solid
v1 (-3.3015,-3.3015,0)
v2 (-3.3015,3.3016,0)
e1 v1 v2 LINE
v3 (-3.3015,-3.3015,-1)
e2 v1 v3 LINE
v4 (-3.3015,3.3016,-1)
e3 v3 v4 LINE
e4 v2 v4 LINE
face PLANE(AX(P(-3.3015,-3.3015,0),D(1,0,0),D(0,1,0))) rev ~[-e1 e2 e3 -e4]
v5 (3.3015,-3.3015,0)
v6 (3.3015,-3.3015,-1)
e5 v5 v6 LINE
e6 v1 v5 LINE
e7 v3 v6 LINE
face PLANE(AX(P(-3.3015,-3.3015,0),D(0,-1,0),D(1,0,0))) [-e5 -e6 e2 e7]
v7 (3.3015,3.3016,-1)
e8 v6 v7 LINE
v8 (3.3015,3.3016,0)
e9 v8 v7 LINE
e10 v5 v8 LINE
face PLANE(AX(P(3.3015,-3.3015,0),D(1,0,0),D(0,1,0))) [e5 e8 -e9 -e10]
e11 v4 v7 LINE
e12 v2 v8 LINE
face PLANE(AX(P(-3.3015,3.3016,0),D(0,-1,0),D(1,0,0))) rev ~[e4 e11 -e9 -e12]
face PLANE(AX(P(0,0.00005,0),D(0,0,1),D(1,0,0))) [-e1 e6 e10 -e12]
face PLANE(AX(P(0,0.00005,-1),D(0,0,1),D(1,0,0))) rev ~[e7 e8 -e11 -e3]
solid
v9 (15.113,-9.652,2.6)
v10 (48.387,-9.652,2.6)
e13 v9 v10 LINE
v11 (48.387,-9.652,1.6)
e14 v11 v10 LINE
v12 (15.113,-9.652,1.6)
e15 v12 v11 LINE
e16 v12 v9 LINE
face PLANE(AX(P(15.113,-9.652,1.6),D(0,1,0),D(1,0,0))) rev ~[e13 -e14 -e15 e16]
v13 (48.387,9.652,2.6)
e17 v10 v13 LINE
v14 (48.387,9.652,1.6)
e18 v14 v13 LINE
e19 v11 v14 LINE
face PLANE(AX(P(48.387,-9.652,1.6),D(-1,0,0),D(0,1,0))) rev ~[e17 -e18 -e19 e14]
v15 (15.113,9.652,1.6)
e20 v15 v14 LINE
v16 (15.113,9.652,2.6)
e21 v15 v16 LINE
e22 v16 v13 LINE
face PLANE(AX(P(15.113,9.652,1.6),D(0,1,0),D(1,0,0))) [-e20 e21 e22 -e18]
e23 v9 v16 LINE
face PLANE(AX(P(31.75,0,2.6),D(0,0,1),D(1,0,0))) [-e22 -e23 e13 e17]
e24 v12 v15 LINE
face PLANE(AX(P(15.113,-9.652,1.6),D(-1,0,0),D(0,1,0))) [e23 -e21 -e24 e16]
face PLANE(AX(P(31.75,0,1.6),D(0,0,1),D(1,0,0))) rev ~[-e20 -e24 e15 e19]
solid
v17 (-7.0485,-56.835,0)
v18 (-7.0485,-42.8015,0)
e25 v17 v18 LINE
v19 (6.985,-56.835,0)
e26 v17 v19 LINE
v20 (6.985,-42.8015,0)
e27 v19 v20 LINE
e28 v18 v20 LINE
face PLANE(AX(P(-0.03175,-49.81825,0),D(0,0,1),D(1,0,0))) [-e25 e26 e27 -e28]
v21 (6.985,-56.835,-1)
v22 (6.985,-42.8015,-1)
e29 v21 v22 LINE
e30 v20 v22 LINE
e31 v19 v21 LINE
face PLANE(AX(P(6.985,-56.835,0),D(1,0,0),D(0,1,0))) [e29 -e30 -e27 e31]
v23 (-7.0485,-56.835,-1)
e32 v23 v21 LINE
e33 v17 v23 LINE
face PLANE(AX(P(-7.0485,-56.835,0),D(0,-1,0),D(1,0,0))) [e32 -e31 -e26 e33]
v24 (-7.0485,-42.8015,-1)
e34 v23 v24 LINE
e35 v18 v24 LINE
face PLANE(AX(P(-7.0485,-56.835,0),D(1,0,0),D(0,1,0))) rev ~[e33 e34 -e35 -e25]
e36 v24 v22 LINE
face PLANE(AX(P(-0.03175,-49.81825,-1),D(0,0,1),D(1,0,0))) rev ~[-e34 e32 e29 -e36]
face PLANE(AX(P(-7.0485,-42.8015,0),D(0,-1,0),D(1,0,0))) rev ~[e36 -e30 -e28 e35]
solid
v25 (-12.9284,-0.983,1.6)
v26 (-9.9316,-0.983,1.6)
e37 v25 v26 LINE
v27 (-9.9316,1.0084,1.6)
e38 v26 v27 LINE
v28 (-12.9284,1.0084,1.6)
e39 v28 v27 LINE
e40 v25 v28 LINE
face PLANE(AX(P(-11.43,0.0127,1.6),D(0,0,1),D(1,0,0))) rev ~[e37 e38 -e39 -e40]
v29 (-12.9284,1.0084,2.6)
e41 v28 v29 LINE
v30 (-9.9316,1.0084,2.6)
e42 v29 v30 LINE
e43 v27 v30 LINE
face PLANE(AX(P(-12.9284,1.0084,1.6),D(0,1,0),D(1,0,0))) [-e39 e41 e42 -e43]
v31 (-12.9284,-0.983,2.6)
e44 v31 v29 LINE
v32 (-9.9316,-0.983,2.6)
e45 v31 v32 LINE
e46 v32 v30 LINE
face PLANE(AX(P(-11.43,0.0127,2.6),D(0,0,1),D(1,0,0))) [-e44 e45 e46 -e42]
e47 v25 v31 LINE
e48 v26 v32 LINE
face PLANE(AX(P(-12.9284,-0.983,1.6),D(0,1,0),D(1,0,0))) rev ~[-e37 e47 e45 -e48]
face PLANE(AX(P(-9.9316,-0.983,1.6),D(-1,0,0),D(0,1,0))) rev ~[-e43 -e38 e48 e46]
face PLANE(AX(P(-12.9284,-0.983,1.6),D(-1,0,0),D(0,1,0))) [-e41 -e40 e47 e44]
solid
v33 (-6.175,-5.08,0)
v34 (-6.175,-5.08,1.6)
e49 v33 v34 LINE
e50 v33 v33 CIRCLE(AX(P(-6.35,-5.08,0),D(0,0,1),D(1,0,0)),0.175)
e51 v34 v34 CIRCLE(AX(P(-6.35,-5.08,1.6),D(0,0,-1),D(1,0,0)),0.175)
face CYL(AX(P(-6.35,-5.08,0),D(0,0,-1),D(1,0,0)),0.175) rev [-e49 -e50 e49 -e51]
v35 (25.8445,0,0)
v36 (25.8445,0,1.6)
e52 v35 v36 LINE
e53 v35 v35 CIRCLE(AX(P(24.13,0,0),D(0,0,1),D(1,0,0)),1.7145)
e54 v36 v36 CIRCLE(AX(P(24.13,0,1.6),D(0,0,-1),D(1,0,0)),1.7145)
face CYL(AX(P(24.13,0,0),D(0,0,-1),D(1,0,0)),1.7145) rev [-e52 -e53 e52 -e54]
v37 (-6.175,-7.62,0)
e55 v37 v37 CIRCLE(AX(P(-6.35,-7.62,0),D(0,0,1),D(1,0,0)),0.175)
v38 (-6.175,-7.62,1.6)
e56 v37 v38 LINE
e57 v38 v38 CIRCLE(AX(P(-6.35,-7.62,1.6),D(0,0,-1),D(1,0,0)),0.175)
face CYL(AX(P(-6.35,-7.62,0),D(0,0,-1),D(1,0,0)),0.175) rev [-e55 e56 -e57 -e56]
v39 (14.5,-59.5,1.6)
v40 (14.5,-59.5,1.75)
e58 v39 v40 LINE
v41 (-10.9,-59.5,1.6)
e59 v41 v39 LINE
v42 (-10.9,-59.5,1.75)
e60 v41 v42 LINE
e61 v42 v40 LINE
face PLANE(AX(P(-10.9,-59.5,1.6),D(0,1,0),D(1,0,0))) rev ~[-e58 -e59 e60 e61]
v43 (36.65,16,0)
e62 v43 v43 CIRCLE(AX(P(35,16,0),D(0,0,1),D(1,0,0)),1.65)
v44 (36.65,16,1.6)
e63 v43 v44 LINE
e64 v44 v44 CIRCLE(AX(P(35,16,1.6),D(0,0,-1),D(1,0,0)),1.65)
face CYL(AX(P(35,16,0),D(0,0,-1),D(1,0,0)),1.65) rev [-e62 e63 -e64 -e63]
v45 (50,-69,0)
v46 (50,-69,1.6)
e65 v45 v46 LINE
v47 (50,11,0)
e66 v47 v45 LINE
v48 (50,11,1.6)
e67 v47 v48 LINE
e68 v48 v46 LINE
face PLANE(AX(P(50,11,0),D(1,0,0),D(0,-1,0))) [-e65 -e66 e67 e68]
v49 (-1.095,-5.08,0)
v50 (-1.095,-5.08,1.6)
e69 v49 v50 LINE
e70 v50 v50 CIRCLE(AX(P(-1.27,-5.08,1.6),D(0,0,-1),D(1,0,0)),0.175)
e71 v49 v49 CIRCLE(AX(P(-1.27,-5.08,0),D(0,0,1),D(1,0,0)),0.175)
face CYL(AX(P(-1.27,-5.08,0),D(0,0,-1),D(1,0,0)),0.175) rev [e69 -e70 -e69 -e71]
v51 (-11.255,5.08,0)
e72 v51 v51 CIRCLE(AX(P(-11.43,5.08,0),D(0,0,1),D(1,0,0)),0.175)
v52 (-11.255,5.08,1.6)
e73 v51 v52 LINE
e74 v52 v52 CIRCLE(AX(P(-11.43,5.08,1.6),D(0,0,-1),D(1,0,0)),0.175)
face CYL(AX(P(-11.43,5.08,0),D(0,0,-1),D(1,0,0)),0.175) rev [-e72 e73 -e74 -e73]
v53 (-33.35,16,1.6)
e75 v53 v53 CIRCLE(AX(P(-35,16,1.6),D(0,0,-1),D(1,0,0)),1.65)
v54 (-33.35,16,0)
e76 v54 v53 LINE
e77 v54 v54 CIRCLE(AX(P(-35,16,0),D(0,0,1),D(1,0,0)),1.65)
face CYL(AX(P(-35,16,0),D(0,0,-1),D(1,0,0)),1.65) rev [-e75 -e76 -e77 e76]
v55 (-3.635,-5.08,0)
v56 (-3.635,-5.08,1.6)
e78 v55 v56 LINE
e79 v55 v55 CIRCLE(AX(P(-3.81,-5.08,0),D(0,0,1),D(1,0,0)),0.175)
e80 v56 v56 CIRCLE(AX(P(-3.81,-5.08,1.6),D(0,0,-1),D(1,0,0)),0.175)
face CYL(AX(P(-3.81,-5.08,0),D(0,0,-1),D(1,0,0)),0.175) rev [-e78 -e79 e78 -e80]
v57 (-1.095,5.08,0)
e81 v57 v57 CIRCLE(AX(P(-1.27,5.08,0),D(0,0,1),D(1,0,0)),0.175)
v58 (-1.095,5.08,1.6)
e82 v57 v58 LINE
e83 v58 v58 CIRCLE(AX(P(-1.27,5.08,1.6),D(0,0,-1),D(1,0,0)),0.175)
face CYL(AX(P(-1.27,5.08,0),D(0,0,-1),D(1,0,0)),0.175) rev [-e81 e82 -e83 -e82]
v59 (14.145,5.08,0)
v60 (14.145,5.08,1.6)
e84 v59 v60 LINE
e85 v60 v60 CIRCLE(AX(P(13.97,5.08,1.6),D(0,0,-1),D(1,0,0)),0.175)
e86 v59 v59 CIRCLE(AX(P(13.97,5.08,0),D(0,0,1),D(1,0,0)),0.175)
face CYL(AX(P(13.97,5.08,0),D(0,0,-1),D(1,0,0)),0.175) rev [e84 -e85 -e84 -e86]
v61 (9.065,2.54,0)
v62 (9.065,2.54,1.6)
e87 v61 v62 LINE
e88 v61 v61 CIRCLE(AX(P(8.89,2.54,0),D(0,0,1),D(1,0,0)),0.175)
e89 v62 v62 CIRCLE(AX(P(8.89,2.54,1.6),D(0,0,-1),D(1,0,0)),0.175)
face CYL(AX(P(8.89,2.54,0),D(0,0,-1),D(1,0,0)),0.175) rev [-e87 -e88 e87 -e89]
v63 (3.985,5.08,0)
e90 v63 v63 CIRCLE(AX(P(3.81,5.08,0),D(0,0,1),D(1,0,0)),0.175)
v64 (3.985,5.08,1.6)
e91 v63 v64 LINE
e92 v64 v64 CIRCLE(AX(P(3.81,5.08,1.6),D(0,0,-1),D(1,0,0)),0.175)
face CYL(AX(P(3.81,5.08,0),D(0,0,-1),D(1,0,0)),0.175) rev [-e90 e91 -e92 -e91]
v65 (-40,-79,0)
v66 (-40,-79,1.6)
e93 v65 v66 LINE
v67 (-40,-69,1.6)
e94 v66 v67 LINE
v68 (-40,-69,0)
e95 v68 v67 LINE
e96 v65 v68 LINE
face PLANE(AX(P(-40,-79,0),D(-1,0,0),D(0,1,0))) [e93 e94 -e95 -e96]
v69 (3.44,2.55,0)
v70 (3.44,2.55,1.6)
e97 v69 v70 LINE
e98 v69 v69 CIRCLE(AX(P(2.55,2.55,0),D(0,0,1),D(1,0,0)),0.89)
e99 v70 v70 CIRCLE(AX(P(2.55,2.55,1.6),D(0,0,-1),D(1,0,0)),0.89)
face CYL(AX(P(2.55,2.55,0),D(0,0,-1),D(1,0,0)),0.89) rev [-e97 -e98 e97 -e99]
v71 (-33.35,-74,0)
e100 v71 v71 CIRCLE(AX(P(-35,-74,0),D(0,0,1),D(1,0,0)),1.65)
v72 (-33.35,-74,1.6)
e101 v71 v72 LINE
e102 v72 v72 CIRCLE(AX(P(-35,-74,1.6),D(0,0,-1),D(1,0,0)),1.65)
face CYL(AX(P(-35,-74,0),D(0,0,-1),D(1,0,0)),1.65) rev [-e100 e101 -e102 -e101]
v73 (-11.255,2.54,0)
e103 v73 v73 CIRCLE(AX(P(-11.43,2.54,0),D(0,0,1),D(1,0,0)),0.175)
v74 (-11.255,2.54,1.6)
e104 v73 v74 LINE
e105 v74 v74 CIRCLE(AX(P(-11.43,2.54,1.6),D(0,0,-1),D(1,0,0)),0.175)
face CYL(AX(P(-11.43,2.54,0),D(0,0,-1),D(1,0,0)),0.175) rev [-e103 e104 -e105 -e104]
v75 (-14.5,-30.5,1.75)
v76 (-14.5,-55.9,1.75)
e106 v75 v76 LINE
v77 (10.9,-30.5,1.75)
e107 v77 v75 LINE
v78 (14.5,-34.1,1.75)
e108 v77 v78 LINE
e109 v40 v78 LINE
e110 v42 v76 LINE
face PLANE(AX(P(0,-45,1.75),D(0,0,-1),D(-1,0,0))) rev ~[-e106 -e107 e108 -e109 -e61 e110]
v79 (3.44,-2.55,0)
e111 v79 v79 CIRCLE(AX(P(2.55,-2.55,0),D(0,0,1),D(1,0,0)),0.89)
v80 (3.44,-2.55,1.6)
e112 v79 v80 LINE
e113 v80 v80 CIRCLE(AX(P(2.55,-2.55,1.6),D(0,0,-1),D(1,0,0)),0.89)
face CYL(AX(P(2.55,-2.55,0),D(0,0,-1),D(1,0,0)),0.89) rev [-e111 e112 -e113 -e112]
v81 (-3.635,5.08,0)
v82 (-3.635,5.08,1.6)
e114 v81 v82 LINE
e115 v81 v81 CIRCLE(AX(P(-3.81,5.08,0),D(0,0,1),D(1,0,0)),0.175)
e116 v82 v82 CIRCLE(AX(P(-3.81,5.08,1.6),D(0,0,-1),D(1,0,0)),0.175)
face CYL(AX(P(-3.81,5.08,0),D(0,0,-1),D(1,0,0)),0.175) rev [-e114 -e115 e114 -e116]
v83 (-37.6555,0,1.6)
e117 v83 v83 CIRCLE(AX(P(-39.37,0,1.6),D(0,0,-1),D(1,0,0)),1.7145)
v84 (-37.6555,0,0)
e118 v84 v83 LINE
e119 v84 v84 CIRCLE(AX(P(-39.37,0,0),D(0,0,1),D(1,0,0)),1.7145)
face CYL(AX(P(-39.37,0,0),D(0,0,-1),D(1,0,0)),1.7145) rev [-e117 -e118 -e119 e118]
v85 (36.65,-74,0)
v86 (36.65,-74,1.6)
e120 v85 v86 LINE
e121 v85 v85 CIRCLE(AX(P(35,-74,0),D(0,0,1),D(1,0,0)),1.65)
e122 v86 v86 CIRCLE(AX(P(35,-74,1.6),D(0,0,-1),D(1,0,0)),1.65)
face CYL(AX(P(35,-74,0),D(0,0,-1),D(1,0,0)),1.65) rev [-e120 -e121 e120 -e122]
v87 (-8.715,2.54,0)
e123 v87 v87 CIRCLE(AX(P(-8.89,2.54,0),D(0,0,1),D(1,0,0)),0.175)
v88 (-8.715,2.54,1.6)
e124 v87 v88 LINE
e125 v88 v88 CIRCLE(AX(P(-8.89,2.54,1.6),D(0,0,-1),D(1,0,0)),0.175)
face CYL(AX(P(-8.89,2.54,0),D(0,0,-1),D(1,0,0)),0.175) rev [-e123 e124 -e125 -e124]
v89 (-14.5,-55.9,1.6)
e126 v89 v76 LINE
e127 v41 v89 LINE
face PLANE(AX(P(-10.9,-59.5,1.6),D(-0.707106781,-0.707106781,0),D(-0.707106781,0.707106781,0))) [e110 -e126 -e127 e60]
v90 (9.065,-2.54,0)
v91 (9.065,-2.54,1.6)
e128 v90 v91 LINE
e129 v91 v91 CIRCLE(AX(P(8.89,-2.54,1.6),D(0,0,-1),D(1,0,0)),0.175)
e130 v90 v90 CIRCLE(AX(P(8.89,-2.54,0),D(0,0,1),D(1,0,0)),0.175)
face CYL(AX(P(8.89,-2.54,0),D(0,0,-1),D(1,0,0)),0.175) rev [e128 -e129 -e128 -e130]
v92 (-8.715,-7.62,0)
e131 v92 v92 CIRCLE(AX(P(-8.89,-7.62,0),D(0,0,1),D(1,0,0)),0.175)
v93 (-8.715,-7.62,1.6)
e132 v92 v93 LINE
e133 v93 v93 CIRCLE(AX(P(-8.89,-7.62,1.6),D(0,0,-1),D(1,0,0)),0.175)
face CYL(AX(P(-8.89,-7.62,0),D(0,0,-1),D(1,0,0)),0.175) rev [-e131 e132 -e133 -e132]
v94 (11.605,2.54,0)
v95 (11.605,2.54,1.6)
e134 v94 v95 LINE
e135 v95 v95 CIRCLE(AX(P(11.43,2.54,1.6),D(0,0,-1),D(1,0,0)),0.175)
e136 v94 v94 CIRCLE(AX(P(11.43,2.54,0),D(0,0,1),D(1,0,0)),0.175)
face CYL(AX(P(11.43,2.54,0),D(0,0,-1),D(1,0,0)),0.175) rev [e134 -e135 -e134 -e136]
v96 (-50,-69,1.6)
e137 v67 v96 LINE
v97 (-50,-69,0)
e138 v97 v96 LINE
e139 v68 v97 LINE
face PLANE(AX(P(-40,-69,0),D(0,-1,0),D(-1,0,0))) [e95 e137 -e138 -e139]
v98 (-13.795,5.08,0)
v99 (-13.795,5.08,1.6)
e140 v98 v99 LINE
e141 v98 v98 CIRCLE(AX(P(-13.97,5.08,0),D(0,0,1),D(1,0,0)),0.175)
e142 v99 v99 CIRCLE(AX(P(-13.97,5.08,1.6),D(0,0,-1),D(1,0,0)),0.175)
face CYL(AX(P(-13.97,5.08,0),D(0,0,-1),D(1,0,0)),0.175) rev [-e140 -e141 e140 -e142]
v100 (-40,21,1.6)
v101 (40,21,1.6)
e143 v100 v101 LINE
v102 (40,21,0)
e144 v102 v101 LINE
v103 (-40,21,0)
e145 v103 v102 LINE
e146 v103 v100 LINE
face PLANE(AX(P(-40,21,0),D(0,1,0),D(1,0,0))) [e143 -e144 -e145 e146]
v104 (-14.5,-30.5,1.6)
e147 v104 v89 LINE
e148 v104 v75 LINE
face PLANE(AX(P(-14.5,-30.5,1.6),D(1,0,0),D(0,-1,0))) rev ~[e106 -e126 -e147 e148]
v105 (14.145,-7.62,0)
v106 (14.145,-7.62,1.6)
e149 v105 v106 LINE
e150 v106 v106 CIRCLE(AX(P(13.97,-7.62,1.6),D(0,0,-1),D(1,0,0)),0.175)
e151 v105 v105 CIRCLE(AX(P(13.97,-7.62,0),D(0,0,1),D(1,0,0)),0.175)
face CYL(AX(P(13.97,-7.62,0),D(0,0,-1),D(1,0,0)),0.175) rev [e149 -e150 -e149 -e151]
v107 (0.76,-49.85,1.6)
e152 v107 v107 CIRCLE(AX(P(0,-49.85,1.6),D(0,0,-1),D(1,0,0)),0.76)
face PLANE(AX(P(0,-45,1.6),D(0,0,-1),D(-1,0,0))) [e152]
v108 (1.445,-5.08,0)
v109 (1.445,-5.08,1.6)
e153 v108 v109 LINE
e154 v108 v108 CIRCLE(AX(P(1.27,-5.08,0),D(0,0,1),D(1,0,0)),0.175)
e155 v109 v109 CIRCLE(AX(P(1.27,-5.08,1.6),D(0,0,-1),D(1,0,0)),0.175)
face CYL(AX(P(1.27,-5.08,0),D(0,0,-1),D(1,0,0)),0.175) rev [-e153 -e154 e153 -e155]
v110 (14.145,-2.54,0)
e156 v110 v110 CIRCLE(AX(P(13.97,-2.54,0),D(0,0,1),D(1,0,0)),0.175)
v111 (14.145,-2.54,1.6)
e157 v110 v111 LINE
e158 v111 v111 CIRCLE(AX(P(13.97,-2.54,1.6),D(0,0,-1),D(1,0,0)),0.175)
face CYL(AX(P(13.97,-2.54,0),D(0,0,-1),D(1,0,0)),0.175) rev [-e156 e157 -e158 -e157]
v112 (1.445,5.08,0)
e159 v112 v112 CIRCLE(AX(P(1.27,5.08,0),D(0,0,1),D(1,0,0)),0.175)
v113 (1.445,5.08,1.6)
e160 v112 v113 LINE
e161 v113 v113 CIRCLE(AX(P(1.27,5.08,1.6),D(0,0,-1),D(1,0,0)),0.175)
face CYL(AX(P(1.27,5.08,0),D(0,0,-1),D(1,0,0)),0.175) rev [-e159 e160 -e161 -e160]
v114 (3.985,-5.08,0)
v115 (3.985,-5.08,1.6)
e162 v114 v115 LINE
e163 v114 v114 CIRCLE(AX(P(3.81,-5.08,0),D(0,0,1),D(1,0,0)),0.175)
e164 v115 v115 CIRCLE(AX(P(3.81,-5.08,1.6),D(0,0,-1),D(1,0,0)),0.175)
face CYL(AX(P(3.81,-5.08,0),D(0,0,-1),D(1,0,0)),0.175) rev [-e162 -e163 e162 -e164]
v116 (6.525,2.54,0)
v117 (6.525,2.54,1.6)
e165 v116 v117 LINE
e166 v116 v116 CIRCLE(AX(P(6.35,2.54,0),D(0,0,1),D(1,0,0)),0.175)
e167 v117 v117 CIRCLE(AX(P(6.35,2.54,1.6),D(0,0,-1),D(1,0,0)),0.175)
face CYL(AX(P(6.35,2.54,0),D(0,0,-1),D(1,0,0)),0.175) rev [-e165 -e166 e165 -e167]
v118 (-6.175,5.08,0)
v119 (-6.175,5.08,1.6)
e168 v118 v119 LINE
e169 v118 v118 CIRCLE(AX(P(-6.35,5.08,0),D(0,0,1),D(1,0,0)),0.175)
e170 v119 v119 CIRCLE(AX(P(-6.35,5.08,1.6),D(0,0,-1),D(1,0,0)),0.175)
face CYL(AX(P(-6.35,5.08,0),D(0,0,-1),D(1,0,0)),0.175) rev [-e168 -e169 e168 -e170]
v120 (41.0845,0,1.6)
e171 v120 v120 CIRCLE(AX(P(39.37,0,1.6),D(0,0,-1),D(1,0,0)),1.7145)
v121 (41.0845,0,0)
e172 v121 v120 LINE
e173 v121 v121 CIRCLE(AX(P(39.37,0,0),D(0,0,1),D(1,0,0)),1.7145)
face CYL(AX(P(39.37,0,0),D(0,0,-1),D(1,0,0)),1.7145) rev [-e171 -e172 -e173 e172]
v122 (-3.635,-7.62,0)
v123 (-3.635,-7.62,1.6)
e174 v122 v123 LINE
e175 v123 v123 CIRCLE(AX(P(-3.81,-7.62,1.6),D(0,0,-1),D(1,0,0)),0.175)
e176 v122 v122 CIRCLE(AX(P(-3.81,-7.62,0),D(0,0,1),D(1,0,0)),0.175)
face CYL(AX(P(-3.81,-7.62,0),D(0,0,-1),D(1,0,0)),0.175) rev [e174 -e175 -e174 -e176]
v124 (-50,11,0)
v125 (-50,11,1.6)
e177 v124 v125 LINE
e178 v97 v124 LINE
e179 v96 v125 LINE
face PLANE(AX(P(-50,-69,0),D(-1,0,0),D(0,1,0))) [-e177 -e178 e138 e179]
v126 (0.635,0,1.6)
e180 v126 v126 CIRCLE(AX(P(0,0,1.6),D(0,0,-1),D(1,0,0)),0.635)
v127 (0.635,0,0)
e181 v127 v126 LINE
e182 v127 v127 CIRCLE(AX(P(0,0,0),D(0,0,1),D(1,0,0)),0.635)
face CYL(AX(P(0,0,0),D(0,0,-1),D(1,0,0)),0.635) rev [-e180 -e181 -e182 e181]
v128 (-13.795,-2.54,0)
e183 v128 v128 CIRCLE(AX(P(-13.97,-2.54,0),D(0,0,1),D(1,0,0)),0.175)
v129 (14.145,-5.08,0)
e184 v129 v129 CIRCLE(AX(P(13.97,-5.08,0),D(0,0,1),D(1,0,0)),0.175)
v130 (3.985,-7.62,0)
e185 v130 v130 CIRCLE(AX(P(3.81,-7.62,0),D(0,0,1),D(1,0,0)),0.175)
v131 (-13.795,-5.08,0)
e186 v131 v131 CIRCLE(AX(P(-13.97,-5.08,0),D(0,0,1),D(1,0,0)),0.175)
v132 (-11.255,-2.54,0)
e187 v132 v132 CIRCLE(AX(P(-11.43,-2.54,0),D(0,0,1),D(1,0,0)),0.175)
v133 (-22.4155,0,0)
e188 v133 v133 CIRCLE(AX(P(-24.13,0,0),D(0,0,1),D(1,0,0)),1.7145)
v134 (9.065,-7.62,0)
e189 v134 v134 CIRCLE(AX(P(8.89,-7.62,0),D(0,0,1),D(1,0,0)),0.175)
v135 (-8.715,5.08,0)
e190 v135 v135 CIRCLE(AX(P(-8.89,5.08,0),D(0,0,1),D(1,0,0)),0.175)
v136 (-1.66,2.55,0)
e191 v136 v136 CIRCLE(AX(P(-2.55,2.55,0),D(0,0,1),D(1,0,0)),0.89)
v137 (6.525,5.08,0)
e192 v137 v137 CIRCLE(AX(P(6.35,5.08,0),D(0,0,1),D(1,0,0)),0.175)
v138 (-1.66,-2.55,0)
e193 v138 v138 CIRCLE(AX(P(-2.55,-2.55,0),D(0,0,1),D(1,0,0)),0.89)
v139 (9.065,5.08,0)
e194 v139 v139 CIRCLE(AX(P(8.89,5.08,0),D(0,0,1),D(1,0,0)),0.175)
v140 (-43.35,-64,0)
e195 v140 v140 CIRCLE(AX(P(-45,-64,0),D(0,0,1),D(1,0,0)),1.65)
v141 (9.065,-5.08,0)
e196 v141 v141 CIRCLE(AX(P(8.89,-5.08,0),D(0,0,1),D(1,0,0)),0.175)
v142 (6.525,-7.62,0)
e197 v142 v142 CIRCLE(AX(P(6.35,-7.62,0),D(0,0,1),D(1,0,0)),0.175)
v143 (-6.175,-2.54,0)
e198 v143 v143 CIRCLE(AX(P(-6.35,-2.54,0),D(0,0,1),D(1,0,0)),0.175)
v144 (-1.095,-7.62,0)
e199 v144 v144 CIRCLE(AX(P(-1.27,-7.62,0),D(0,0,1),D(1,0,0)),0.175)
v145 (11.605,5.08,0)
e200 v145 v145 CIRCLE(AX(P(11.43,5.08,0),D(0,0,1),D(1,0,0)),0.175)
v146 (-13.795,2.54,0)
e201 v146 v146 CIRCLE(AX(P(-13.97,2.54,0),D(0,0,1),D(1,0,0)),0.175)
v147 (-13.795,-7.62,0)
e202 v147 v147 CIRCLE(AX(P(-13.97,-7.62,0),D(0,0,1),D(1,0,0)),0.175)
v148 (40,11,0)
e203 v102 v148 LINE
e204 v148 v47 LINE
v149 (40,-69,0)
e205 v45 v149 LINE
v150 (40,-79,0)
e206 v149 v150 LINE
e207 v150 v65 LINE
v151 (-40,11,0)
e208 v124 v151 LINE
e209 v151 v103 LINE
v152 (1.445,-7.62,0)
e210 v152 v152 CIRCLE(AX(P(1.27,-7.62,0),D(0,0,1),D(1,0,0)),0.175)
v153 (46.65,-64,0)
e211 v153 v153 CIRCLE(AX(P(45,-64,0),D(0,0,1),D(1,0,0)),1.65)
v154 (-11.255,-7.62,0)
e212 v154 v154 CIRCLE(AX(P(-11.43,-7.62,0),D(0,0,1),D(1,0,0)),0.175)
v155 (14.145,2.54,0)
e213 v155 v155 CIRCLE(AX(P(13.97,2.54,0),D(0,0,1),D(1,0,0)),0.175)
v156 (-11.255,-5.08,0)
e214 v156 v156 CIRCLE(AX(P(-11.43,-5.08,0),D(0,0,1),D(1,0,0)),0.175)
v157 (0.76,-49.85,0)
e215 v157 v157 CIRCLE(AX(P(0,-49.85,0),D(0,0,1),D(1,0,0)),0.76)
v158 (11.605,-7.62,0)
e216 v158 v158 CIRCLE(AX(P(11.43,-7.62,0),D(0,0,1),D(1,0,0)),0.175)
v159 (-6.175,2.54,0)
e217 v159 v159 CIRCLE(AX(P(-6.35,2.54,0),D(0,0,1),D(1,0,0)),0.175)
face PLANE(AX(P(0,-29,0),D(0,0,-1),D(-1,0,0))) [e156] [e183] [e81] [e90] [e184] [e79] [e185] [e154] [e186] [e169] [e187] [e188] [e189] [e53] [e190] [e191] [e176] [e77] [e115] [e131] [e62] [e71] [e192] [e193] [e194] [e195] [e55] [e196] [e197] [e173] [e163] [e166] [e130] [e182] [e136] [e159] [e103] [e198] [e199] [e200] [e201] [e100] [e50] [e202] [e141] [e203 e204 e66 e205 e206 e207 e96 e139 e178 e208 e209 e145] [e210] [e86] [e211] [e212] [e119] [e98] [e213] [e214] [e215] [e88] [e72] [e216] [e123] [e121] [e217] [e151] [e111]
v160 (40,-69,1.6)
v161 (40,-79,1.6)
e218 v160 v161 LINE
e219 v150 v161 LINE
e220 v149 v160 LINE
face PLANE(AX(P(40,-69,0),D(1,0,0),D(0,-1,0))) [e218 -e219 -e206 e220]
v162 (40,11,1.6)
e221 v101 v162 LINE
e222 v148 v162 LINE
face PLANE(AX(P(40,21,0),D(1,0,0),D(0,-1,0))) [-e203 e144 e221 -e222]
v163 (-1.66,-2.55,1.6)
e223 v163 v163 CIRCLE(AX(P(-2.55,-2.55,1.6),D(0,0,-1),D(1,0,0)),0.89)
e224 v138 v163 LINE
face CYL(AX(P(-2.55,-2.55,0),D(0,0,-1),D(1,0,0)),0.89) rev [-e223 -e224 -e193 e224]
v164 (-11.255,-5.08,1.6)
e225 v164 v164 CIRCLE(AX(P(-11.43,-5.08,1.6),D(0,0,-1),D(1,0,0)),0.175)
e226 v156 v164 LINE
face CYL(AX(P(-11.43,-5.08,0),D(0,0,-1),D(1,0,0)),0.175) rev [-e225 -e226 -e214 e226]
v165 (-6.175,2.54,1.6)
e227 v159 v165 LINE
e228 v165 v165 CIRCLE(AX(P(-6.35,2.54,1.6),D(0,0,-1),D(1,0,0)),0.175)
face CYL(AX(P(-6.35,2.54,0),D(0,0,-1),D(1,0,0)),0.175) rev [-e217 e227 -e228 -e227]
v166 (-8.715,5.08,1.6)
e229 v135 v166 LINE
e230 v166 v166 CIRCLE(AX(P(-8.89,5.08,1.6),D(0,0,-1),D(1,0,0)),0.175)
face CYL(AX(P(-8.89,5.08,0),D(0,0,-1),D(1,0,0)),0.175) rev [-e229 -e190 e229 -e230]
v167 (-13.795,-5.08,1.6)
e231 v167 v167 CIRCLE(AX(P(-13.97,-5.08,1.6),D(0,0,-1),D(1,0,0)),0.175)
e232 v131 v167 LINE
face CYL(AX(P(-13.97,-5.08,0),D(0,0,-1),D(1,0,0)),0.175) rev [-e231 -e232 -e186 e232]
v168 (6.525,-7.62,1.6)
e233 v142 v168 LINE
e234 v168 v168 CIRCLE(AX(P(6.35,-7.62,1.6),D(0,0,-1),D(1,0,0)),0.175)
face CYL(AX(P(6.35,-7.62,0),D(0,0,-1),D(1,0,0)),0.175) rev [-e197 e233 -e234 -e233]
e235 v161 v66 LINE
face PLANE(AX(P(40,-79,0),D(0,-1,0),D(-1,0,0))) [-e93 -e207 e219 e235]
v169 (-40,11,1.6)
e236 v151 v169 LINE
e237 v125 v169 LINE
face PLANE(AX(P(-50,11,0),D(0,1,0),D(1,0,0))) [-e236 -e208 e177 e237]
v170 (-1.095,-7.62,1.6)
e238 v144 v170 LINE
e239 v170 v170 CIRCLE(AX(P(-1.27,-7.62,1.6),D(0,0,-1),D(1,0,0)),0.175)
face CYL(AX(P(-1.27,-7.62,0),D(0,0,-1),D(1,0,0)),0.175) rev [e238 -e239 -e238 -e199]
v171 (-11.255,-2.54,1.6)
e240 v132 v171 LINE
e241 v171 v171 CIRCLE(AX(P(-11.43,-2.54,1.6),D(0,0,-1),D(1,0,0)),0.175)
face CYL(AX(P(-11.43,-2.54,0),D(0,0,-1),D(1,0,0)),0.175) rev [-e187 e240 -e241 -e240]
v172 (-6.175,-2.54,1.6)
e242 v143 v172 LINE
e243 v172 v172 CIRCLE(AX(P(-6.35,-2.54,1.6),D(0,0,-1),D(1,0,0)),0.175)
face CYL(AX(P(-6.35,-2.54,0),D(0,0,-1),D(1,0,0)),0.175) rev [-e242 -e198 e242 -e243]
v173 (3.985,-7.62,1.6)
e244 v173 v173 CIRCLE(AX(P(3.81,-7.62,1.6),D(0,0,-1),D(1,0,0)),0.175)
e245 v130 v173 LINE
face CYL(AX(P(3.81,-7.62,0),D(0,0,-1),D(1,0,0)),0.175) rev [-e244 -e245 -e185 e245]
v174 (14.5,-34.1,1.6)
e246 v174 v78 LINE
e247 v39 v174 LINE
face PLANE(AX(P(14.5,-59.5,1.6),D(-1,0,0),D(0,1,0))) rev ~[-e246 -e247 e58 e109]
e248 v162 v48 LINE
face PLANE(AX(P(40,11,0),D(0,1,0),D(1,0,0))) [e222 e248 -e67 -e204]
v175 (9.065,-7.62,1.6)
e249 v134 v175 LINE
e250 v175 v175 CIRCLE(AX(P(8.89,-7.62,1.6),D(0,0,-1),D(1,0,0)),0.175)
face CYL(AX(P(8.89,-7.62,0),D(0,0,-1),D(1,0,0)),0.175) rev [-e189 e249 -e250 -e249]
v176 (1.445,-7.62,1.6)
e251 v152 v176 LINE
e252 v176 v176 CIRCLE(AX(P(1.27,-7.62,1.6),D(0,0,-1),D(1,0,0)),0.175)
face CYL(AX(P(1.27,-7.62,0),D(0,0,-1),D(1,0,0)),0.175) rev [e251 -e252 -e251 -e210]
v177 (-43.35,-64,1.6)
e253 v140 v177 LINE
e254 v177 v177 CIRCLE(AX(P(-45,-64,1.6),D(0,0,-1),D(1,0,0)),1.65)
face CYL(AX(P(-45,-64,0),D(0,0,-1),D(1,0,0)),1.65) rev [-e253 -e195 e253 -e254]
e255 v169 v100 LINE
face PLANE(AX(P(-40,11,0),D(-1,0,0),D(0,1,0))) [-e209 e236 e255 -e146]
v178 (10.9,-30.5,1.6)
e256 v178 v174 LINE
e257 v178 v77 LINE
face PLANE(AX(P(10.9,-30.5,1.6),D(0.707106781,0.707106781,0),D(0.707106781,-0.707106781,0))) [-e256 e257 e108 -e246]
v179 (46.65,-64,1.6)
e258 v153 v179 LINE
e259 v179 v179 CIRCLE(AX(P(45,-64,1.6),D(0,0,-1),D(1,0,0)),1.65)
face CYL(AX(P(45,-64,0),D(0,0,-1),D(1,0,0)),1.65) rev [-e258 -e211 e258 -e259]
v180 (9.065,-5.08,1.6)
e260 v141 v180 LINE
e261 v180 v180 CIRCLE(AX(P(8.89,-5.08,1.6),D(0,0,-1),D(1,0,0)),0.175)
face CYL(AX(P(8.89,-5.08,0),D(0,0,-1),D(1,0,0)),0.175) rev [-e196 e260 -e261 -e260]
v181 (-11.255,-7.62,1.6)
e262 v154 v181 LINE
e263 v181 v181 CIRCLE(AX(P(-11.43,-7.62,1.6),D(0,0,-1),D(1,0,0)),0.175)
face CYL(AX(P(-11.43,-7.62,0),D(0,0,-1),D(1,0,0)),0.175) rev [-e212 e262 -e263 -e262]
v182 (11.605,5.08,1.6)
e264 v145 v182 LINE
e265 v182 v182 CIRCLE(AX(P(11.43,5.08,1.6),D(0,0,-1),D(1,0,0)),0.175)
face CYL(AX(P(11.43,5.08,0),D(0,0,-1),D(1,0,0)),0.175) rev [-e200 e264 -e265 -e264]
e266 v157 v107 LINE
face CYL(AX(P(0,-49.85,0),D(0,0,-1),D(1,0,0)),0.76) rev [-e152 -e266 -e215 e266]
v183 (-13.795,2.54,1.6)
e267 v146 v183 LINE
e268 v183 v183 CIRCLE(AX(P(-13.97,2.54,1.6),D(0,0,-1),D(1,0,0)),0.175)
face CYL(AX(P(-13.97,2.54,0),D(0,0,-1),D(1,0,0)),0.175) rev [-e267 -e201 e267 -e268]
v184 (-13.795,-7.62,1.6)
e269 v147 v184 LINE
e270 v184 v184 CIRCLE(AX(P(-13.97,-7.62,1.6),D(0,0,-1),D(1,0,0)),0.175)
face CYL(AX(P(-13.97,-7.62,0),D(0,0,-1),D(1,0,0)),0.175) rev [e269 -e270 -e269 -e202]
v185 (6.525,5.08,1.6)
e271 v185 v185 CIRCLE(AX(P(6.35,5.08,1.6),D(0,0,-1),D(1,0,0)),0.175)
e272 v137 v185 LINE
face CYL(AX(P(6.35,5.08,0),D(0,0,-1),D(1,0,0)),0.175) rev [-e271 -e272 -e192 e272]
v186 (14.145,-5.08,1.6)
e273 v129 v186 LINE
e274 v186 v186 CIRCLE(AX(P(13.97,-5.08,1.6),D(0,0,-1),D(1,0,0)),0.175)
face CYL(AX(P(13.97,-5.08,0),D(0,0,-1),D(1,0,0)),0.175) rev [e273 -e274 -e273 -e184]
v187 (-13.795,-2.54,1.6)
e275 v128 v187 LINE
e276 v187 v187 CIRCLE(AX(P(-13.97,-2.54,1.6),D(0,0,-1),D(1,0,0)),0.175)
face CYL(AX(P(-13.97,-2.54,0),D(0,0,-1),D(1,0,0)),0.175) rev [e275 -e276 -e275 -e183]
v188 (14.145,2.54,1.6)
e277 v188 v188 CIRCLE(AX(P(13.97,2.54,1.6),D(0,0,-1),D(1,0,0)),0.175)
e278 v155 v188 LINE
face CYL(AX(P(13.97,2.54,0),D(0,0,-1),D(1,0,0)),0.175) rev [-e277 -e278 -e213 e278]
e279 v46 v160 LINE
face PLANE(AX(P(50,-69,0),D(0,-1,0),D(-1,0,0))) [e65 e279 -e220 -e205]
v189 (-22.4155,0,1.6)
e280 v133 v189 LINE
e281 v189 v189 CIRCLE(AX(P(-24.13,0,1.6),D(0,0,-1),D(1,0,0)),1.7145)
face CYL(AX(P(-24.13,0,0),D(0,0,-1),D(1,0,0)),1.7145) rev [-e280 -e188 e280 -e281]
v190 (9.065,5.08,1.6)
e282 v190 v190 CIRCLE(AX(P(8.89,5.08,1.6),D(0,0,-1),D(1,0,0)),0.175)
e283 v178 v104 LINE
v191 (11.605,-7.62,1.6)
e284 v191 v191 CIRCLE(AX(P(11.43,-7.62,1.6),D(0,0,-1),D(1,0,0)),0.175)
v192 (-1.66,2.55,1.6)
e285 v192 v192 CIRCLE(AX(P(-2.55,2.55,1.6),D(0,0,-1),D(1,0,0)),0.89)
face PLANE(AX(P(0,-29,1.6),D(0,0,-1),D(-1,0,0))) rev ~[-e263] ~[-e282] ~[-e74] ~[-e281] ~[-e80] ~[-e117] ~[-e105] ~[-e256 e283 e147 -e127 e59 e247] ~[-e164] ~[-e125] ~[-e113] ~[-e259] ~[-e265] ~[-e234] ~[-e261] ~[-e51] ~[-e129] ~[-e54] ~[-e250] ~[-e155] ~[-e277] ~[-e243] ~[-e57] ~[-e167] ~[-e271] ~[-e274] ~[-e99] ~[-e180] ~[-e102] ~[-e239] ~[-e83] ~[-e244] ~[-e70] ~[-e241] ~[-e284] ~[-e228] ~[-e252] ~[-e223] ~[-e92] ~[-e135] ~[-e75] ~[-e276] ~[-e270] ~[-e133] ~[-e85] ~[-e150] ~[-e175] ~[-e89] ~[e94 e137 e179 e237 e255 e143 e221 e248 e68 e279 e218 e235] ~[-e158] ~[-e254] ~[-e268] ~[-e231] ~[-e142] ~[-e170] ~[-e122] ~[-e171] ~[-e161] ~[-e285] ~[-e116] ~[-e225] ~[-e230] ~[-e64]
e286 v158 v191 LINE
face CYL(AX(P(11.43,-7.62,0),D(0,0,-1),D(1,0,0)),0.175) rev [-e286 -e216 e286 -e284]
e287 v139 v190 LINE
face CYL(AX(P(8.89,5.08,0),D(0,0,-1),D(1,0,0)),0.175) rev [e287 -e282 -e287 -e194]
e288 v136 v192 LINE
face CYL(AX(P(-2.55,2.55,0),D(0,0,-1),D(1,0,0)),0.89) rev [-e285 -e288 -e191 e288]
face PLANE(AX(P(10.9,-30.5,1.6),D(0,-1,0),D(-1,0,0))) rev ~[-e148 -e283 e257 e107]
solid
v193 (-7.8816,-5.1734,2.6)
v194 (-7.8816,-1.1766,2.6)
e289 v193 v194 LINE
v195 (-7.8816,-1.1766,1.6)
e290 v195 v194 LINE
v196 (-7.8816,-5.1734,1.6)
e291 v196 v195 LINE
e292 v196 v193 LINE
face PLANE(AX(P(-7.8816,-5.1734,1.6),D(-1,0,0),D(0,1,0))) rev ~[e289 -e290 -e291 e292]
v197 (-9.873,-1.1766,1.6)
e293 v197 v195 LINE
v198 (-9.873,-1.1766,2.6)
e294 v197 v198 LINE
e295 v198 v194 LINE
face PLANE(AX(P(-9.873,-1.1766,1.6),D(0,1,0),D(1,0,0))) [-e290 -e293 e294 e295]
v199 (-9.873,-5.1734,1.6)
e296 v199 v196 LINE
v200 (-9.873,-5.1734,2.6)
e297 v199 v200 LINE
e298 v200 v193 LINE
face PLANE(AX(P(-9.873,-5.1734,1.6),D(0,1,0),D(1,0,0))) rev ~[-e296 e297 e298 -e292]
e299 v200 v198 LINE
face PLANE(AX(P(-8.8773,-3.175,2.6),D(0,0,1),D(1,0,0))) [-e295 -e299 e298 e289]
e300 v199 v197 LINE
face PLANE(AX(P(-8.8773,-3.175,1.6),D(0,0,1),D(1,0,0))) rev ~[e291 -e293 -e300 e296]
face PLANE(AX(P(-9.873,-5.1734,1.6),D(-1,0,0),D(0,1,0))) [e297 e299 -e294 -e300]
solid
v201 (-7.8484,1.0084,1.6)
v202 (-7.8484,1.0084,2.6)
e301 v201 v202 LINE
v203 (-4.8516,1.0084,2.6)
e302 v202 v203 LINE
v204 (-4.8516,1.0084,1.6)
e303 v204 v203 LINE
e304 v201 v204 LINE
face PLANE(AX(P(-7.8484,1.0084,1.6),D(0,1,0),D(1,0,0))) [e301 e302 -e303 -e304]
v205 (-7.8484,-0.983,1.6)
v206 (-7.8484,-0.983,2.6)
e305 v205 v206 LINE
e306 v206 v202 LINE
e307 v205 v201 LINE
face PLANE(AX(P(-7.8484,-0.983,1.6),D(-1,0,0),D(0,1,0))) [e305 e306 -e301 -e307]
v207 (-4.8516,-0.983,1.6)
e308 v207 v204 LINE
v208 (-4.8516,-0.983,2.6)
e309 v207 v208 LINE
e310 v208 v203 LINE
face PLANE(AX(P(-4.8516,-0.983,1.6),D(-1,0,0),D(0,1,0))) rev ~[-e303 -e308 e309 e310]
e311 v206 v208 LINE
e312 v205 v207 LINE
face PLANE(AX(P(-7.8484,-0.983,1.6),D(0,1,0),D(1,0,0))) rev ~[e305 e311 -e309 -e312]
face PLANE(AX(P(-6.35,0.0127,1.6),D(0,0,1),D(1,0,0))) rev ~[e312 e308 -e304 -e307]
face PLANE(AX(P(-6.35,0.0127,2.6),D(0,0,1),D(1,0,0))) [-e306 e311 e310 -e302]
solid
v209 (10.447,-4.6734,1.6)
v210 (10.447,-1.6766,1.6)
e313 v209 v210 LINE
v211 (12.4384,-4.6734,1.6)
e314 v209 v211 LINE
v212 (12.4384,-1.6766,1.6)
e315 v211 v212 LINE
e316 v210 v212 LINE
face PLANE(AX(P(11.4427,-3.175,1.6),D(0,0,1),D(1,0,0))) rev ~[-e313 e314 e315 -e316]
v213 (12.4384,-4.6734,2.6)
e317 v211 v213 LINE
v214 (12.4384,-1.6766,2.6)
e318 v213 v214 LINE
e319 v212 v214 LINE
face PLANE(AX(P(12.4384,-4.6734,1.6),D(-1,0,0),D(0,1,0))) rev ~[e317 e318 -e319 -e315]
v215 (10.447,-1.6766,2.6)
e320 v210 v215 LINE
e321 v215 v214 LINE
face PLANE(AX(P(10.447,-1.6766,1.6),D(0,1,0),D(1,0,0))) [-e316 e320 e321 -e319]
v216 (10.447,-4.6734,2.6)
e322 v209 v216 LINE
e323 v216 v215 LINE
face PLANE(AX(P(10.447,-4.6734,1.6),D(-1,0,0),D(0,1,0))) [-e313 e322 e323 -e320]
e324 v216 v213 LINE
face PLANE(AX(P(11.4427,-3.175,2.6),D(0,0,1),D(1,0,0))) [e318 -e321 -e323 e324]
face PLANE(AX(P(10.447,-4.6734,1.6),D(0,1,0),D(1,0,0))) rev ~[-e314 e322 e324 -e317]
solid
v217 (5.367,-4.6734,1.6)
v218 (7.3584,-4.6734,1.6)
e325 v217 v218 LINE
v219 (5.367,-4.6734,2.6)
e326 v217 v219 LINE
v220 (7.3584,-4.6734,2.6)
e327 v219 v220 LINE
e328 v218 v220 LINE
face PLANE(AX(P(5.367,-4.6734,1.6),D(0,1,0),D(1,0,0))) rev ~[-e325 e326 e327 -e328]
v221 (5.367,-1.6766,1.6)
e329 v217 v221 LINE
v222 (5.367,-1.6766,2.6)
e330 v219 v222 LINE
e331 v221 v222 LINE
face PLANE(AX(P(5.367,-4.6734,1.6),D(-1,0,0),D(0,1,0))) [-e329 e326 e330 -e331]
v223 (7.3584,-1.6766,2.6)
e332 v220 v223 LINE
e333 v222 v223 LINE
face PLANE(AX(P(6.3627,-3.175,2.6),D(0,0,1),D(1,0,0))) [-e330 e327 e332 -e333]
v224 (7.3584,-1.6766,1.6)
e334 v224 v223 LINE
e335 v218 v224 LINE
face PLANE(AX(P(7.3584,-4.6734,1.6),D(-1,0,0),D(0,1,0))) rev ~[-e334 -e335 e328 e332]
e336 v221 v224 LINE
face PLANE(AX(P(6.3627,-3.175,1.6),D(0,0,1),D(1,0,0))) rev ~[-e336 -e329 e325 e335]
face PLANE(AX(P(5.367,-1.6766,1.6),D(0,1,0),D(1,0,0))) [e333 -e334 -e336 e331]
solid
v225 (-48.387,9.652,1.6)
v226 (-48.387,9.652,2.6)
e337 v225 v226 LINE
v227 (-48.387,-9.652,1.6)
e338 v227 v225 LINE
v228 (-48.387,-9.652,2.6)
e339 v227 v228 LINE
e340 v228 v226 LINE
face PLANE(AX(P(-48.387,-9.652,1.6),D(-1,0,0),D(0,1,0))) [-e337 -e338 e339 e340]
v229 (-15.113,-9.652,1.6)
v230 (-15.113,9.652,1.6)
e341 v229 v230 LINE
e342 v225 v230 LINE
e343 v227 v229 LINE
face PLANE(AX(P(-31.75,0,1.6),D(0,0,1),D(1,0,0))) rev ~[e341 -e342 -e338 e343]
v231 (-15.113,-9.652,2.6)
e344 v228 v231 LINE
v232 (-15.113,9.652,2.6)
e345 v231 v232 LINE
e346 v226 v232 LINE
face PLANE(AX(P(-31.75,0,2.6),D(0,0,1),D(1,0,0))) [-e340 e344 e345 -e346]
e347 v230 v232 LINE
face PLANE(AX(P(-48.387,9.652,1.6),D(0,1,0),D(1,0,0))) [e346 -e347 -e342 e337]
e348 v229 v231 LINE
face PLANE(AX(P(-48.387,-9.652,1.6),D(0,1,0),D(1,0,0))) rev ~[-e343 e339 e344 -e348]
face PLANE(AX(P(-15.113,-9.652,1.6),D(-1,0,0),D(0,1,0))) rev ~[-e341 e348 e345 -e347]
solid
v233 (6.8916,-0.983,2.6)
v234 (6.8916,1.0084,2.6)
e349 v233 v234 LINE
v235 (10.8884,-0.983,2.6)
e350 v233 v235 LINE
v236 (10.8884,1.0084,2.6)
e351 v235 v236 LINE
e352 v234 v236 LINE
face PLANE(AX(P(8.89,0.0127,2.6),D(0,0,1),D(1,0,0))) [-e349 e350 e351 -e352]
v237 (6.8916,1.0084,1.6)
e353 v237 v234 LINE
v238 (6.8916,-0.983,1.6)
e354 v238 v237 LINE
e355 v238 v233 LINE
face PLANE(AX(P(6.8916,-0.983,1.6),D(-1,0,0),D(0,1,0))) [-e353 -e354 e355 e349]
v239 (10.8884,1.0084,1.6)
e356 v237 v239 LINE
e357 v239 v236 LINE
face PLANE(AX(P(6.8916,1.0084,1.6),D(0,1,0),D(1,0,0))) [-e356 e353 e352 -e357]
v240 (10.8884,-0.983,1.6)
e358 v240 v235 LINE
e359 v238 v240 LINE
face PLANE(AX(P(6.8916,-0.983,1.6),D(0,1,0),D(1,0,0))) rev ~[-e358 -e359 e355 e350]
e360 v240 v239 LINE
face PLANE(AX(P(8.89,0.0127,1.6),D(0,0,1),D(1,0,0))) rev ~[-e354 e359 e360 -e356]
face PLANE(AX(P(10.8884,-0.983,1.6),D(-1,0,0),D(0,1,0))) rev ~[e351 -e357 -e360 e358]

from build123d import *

# Parameters (mm, degrees)
BOARD_DEPTH            = 1.6
SKETCH2_R              = 1.65
SKETCH2_R_2            = 1.7145
SKETCH2_R_3            = 0.175
NON_PLATED_HOLES_DEPTH = 94.507005085
SKETCH3_R              = 0.76
SKETCH3_R_2            = 0.635
SKETCH3_R_3            = 0.89
PLATED_HOLES_DEPTH     = 94.507005085
SKETCH4_W              = 1.9914
SKETCH4_H              = 2.9968
EXTRUDE_C1608_1_DEPTH  = 1
SKETCH5_W              = 1.9914
SKETCH5_H              = 2.9968
EXTRUDE_C1608_2_DEPTH  = 1
SKETCH6_W              = 2.9968
SKETCH6_H              = 1.9914
EXTRUDE_C1608_3_DEPTH  = 1
SKETCH7_W              = 2.9968
SKETCH7_H              = 1.9914
EXTRUDE_C1608_4_DEPTH  = 1
SKETCH8_W              = 3.9968
SKETCH8_H              = 1.9914
L2012C_1_DEPTH         = 1
SKETCH9_W              = 1.9914
SKETCH9_H              = 3.9968
L2012C_2_DEPTH         = 1
SKETCH10_W             = 33.274
SKETCH10_H             = 19.304
CMMOUNTPAD2_1_DEPTH    = 1
SKETCH11_W             = 33.274
SKETCH11_H             = 19.304
CMMOUNTPAD2_2_DEPTH    = 1
SKETCH12_W             = 14.0335
SKETCH12_H             = 14.0335
PANELSMA_1_DEPTH       = 1
SKETCH13_W             = 6.603
SKETCH13_H             = 6.6031
BU_SMA_V_1_DEPTH       = 1
BOSS_EXTRUDE12_DEPTH   = 0.15


with BuildPart() as part:
    # Sketch1 → BOARD (new body)
    with BuildSketch(Plane.XY):
        Polygon((-40, 21), (40, 21), (40, 11), (50, 11), (50, -69), (40, -69), (40, -79), (-40, -79), (-40, -69), (-50, -69), (-50, 11), (-40, 11), align=None)
    extrude(amount=BOARD_DEPTH)

    # Sketch2 → NON-PLATED HOLES (cut, through all)
    with BuildSketch(Plane.XY):
        with Locations((-35, -74)):
            Circle(SKETCH2_R)
        with Locations((35, -74)):
            Circle(SKETCH2_R)
        with Locations((-35, 16)):
            Circle(SKETCH2_R)
        with Locations((35, 16)):
            Circle(SKETCH2_R)
        with Locations((-45, -64)):
            Circle(SKETCH2_R)
        with Locations((45, -64)):
            Circle(SKETCH2_R)
        with Locations((24.13, 0)):
            Circle(SKETCH2_R_2)
        with Locations((39.37, 0)):
            Circle(SKETCH2_R_2)
        with Locations((-39.37, 0)):
            Circle(SKETCH2_R_2)
        with Locations((-24.13, 0)):
            Circle(SKETCH2_R_2)
        with Locations((-11.43, -2.54)):
            Circle(SKETCH2_R_3)
        with Locations((-13.97, -2.54)):
            Circle(SKETCH2_R_3)
        with Locations((-13.97, 2.54)):
            Circle(SKETCH2_R_3)
        with Locations((-11.43, 2.54)):
            Circle(SKETCH2_R_3)
        with Locations((-8.89, 2.54)):
            Circle(SKETCH2_R_3)
        with Locations((-6.35, 2.54)):
            Circle(SKETCH2_R_3)
        with Locations((13.97, 2.54)):
            Circle(SKETCH2_R_3)
        with Locations((11.43, 2.54)):
            Circle(SKETCH2_R_3)
        with Locations((8.89, 2.54)):
            Circle(SKETCH2_R_3)
        with Locations((6.35, 2.54)):
            Circle(SKETCH2_R_3)
        with Locations((-6.35, 5.08)):
            Circle(SKETCH2_R_3)
        with Locations((-3.81, 5.08)):
            Circle(SKETCH2_R_3)
        with Locations((-1.27, 5.08)):
            Circle(SKETCH2_R_3)
        with Locations((1.27, 5.08)):
            Circle(SKETCH2_R_3)
        with Locations((3.81, 5.08)):
            Circle(SKETCH2_R_3)
        with Locations((6.35, 5.08)):
            Circle(SKETCH2_R_3)
        with Locations((-6.35, -2.54)):
            Circle(SKETCH2_R_3)
        with Locations((-6.35, -5.08)):
            Circle(SKETCH2_R_3)
        with Locations((-3.81, -5.08)):
            Circle(SKETCH2_R_3)
        with Locations((-1.27, -5.08)):
            Circle(SKETCH2_R_3)
        with Locations((1.27, -5.08)):
            Circle(SKETCH2_R_3)
        with Locations((3.81, -5.08)):
            Circle(SKETCH2_R_3)
        with Locations((3.81, -7.62)):
            Circle(SKETCH2_R_3)
        with Locations((-6.35, -7.62)):
            Circle(SKETCH2_R_3)
        with Locations((-8.89, -7.62)):
            Circle(SKETCH2_R_3)
        with Locations((-11.43, -7.62)):
            Circle(SKETCH2_R_3)
        with Locations((-11.43, -5.08)):
            Circle(SKETCH2_R_3)
        with Locations((6.35, -7.62)):
            Circle(SKETCH2_R_3)
        with Locations((8.89, -7.62)):
            Circle(SKETCH2_R_3)
        with Locations((8.89, -5.08)):
            Circle(SKETCH2_R_3)
        with Locations((8.89, -2.54)):
            Circle(SKETCH2_R_3)
        with Locations((11.43, -7.62)):
            Circle(SKETCH2_R_3)
        with Locations((13.97, -7.62)):
            Circle(SKETCH2_R_3)
        with Locations((13.97, -5.08)):
            Circle(SKETCH2_R_3)
        with Locations((13.97, -2.54)):
            Circle(SKETCH2_R_3)
        with Locations((-3.81, -7.62)):
            Circle(SKETCH2_R_3)
        with Locations((-1.27, -7.62)):
            Circle(SKETCH2_R_3)
        with Locations((1.27, -7.62)):
            Circle(SKETCH2_R_3)
        with Locations((-13.97, -5.08)):
            Circle(SKETCH2_R_3)
        with Locations((-13.97, -7.62)):
            Circle(SKETCH2_R_3)
        with Locations((-8.89, 5.08)):
            Circle(SKETCH2_R_3)
        with Locations((-11.43, 5.08)):
            Circle(SKETCH2_R_3)
        with Locations((-13.97, 5.08)):
            Circle(SKETCH2_R_3)
        with Locations((8.89, 5.08)):
            Circle(SKETCH2_R_3)
        with Locations((11.43, 5.08)):
            Circle(SKETCH2_R_3)
        with Locations((13.97, 5.08)):
            Circle(SKETCH2_R_3)
    extrude(amount=NON_PLATED_HOLES_DEPTH, mode=Mode.SUBTRACT)

    # Sketch3 → PLATED HOLES (cut, through all)
    with BuildSketch(Plane.XY):
        with Locations((0, -49.85)):
            Circle(SKETCH3_R)
        Circle(SKETCH3_R_2)
        with Locations((2.55, 2.55)):
            Circle(SKETCH3_R_3)
        with Locations((-2.55, 2.55)):
            Circle(SKETCH3_R_3)
        with Locations((-2.55, -2.55)):
            Circle(SKETCH3_R_3)
        with Locations((2.55, -2.55)):
            Circle(SKETCH3_R_3)
    extrude(amount=PLATED_HOLES_DEPTH, mode=Mode.SUBTRACT)

    # Sketch14 → Boss-Extrude12 (add)
    with BuildSketch(Plane.XY.offset(1.6)):
        Polygon((0, -30.5), (10.9, -30.5), (14.5, -34.1), (14.5, -49.85), (14.5, -59.5), (0, -59.5), (-10.9, -59.5), (-14.5, -55.9), (-14.5, -49.85), (-14.5, -30.5), align=None)
    extrude(amount=BOSS_EXTRUDE12_DEPTH)


with BuildPart() as body_2:
    # Sketch4 → Extrude C1608-1 (new body)
    with BuildSketch(Plane.XY.offset(1.6)):
        with Locations((6.3627, -3.175)):
            Rectangle(SKETCH4_W, SKETCH4_H)
    extrude(amount=EXTRUDE_C1608_1_DEPTH)


with BuildPart() as body_3:
    # Sketch5 → Extrude C1608-2 (new body)
    with BuildSketch(Plane.XY.offset(1.6)):
        with Locations((11.4427, -3.175)):
            Rectangle(SKETCH5_W, SKETCH5_H)
    extrude(amount=EXTRUDE_C1608_2_DEPTH)


with BuildPart() as body_4:
    # Sketch6 → Extrude C1608-3 (new body)
    with BuildSketch(Plane.XY.offset(1.6)):
        with Locations((-6.35, 0.0127)):
            Rectangle(SKETCH6_W, SKETCH6_H)
    extrude(amount=EXTRUDE_C1608_3_DEPTH)


with BuildPart() as body_5:
    # Sketch7 → Extrude C1608-4 (new body)
    with BuildSketch(Plane.XY.offset(1.6)):
        with Locations((-11.43, 0.0127)):
            Rectangle(SKETCH7_W, SKETCH7_H)
    extrude(amount=EXTRUDE_C1608_4_DEPTH)


with BuildPart() as body_6:
    # Sketch8 → L2012C-1 (new body)
    with BuildSketch(Plane.XY.offset(1.6)):
        with Locations((8.89, 0.0127)):
            Rectangle(SKETCH8_W, SKETCH8_H)
    extrude(amount=L2012C_1_DEPTH)


with BuildPart() as body_7:
    # Sketch9 → L2012C-2 (new body)
    with BuildSketch(Plane.XY.offset(1.6)):
        with Locations((-8.8773, -3.175)):
            Rectangle(SKETCH9_W, SKETCH9_H)
    extrude(amount=L2012C_2_DEPTH)


with BuildPart() as body_8:
    # Sketch10 → CMMOUNTPAD2-1 (new body)
    with BuildSketch(Plane.XY.offset(1.6)):
        with Locations((31.75, 0)):
            Rectangle(SKETCH10_W, SKETCH10_H)
    extrude(amount=CMMOUNTPAD2_1_DEPTH)


with BuildPart() as body_9:
    # Sketch11 → CMMOUNTPAD2-2 (new body)
    with BuildSketch(Plane.XY.offset(1.6)):
        with Locations((-31.75, 0)):
            Rectangle(SKETCH11_W, SKETCH11_H)
    extrude(amount=CMMOUNTPAD2_2_DEPTH)


with BuildPart() as body_10:
    # Sketch12 → PANELSMA-1 (new body)
    with BuildSketch(Plane.XY):
        with Locations((-0.03175, -49.81825)):
            Rectangle(SKETCH12_W, SKETCH12_H)
    extrude(amount=-PANELSMA_1_DEPTH)


with BuildPart() as body_11:
    # Sketch13 → BU-SMA-V-1 (new body)
    with BuildSketch(Plane.XY):
        with Locations((0, 5e-05)):
            Rectangle(SKETCH13_W, SKETCH13_H)
    extrude(amount=-BU_SMA_V_1_DEPTH)


solid = Compound([part.part, body_2.part, body_3.part, body_4.part, body_5.part, body_6.part, body_7.part, body_8.part, body_9.part, body_10.part, body_11.part])
